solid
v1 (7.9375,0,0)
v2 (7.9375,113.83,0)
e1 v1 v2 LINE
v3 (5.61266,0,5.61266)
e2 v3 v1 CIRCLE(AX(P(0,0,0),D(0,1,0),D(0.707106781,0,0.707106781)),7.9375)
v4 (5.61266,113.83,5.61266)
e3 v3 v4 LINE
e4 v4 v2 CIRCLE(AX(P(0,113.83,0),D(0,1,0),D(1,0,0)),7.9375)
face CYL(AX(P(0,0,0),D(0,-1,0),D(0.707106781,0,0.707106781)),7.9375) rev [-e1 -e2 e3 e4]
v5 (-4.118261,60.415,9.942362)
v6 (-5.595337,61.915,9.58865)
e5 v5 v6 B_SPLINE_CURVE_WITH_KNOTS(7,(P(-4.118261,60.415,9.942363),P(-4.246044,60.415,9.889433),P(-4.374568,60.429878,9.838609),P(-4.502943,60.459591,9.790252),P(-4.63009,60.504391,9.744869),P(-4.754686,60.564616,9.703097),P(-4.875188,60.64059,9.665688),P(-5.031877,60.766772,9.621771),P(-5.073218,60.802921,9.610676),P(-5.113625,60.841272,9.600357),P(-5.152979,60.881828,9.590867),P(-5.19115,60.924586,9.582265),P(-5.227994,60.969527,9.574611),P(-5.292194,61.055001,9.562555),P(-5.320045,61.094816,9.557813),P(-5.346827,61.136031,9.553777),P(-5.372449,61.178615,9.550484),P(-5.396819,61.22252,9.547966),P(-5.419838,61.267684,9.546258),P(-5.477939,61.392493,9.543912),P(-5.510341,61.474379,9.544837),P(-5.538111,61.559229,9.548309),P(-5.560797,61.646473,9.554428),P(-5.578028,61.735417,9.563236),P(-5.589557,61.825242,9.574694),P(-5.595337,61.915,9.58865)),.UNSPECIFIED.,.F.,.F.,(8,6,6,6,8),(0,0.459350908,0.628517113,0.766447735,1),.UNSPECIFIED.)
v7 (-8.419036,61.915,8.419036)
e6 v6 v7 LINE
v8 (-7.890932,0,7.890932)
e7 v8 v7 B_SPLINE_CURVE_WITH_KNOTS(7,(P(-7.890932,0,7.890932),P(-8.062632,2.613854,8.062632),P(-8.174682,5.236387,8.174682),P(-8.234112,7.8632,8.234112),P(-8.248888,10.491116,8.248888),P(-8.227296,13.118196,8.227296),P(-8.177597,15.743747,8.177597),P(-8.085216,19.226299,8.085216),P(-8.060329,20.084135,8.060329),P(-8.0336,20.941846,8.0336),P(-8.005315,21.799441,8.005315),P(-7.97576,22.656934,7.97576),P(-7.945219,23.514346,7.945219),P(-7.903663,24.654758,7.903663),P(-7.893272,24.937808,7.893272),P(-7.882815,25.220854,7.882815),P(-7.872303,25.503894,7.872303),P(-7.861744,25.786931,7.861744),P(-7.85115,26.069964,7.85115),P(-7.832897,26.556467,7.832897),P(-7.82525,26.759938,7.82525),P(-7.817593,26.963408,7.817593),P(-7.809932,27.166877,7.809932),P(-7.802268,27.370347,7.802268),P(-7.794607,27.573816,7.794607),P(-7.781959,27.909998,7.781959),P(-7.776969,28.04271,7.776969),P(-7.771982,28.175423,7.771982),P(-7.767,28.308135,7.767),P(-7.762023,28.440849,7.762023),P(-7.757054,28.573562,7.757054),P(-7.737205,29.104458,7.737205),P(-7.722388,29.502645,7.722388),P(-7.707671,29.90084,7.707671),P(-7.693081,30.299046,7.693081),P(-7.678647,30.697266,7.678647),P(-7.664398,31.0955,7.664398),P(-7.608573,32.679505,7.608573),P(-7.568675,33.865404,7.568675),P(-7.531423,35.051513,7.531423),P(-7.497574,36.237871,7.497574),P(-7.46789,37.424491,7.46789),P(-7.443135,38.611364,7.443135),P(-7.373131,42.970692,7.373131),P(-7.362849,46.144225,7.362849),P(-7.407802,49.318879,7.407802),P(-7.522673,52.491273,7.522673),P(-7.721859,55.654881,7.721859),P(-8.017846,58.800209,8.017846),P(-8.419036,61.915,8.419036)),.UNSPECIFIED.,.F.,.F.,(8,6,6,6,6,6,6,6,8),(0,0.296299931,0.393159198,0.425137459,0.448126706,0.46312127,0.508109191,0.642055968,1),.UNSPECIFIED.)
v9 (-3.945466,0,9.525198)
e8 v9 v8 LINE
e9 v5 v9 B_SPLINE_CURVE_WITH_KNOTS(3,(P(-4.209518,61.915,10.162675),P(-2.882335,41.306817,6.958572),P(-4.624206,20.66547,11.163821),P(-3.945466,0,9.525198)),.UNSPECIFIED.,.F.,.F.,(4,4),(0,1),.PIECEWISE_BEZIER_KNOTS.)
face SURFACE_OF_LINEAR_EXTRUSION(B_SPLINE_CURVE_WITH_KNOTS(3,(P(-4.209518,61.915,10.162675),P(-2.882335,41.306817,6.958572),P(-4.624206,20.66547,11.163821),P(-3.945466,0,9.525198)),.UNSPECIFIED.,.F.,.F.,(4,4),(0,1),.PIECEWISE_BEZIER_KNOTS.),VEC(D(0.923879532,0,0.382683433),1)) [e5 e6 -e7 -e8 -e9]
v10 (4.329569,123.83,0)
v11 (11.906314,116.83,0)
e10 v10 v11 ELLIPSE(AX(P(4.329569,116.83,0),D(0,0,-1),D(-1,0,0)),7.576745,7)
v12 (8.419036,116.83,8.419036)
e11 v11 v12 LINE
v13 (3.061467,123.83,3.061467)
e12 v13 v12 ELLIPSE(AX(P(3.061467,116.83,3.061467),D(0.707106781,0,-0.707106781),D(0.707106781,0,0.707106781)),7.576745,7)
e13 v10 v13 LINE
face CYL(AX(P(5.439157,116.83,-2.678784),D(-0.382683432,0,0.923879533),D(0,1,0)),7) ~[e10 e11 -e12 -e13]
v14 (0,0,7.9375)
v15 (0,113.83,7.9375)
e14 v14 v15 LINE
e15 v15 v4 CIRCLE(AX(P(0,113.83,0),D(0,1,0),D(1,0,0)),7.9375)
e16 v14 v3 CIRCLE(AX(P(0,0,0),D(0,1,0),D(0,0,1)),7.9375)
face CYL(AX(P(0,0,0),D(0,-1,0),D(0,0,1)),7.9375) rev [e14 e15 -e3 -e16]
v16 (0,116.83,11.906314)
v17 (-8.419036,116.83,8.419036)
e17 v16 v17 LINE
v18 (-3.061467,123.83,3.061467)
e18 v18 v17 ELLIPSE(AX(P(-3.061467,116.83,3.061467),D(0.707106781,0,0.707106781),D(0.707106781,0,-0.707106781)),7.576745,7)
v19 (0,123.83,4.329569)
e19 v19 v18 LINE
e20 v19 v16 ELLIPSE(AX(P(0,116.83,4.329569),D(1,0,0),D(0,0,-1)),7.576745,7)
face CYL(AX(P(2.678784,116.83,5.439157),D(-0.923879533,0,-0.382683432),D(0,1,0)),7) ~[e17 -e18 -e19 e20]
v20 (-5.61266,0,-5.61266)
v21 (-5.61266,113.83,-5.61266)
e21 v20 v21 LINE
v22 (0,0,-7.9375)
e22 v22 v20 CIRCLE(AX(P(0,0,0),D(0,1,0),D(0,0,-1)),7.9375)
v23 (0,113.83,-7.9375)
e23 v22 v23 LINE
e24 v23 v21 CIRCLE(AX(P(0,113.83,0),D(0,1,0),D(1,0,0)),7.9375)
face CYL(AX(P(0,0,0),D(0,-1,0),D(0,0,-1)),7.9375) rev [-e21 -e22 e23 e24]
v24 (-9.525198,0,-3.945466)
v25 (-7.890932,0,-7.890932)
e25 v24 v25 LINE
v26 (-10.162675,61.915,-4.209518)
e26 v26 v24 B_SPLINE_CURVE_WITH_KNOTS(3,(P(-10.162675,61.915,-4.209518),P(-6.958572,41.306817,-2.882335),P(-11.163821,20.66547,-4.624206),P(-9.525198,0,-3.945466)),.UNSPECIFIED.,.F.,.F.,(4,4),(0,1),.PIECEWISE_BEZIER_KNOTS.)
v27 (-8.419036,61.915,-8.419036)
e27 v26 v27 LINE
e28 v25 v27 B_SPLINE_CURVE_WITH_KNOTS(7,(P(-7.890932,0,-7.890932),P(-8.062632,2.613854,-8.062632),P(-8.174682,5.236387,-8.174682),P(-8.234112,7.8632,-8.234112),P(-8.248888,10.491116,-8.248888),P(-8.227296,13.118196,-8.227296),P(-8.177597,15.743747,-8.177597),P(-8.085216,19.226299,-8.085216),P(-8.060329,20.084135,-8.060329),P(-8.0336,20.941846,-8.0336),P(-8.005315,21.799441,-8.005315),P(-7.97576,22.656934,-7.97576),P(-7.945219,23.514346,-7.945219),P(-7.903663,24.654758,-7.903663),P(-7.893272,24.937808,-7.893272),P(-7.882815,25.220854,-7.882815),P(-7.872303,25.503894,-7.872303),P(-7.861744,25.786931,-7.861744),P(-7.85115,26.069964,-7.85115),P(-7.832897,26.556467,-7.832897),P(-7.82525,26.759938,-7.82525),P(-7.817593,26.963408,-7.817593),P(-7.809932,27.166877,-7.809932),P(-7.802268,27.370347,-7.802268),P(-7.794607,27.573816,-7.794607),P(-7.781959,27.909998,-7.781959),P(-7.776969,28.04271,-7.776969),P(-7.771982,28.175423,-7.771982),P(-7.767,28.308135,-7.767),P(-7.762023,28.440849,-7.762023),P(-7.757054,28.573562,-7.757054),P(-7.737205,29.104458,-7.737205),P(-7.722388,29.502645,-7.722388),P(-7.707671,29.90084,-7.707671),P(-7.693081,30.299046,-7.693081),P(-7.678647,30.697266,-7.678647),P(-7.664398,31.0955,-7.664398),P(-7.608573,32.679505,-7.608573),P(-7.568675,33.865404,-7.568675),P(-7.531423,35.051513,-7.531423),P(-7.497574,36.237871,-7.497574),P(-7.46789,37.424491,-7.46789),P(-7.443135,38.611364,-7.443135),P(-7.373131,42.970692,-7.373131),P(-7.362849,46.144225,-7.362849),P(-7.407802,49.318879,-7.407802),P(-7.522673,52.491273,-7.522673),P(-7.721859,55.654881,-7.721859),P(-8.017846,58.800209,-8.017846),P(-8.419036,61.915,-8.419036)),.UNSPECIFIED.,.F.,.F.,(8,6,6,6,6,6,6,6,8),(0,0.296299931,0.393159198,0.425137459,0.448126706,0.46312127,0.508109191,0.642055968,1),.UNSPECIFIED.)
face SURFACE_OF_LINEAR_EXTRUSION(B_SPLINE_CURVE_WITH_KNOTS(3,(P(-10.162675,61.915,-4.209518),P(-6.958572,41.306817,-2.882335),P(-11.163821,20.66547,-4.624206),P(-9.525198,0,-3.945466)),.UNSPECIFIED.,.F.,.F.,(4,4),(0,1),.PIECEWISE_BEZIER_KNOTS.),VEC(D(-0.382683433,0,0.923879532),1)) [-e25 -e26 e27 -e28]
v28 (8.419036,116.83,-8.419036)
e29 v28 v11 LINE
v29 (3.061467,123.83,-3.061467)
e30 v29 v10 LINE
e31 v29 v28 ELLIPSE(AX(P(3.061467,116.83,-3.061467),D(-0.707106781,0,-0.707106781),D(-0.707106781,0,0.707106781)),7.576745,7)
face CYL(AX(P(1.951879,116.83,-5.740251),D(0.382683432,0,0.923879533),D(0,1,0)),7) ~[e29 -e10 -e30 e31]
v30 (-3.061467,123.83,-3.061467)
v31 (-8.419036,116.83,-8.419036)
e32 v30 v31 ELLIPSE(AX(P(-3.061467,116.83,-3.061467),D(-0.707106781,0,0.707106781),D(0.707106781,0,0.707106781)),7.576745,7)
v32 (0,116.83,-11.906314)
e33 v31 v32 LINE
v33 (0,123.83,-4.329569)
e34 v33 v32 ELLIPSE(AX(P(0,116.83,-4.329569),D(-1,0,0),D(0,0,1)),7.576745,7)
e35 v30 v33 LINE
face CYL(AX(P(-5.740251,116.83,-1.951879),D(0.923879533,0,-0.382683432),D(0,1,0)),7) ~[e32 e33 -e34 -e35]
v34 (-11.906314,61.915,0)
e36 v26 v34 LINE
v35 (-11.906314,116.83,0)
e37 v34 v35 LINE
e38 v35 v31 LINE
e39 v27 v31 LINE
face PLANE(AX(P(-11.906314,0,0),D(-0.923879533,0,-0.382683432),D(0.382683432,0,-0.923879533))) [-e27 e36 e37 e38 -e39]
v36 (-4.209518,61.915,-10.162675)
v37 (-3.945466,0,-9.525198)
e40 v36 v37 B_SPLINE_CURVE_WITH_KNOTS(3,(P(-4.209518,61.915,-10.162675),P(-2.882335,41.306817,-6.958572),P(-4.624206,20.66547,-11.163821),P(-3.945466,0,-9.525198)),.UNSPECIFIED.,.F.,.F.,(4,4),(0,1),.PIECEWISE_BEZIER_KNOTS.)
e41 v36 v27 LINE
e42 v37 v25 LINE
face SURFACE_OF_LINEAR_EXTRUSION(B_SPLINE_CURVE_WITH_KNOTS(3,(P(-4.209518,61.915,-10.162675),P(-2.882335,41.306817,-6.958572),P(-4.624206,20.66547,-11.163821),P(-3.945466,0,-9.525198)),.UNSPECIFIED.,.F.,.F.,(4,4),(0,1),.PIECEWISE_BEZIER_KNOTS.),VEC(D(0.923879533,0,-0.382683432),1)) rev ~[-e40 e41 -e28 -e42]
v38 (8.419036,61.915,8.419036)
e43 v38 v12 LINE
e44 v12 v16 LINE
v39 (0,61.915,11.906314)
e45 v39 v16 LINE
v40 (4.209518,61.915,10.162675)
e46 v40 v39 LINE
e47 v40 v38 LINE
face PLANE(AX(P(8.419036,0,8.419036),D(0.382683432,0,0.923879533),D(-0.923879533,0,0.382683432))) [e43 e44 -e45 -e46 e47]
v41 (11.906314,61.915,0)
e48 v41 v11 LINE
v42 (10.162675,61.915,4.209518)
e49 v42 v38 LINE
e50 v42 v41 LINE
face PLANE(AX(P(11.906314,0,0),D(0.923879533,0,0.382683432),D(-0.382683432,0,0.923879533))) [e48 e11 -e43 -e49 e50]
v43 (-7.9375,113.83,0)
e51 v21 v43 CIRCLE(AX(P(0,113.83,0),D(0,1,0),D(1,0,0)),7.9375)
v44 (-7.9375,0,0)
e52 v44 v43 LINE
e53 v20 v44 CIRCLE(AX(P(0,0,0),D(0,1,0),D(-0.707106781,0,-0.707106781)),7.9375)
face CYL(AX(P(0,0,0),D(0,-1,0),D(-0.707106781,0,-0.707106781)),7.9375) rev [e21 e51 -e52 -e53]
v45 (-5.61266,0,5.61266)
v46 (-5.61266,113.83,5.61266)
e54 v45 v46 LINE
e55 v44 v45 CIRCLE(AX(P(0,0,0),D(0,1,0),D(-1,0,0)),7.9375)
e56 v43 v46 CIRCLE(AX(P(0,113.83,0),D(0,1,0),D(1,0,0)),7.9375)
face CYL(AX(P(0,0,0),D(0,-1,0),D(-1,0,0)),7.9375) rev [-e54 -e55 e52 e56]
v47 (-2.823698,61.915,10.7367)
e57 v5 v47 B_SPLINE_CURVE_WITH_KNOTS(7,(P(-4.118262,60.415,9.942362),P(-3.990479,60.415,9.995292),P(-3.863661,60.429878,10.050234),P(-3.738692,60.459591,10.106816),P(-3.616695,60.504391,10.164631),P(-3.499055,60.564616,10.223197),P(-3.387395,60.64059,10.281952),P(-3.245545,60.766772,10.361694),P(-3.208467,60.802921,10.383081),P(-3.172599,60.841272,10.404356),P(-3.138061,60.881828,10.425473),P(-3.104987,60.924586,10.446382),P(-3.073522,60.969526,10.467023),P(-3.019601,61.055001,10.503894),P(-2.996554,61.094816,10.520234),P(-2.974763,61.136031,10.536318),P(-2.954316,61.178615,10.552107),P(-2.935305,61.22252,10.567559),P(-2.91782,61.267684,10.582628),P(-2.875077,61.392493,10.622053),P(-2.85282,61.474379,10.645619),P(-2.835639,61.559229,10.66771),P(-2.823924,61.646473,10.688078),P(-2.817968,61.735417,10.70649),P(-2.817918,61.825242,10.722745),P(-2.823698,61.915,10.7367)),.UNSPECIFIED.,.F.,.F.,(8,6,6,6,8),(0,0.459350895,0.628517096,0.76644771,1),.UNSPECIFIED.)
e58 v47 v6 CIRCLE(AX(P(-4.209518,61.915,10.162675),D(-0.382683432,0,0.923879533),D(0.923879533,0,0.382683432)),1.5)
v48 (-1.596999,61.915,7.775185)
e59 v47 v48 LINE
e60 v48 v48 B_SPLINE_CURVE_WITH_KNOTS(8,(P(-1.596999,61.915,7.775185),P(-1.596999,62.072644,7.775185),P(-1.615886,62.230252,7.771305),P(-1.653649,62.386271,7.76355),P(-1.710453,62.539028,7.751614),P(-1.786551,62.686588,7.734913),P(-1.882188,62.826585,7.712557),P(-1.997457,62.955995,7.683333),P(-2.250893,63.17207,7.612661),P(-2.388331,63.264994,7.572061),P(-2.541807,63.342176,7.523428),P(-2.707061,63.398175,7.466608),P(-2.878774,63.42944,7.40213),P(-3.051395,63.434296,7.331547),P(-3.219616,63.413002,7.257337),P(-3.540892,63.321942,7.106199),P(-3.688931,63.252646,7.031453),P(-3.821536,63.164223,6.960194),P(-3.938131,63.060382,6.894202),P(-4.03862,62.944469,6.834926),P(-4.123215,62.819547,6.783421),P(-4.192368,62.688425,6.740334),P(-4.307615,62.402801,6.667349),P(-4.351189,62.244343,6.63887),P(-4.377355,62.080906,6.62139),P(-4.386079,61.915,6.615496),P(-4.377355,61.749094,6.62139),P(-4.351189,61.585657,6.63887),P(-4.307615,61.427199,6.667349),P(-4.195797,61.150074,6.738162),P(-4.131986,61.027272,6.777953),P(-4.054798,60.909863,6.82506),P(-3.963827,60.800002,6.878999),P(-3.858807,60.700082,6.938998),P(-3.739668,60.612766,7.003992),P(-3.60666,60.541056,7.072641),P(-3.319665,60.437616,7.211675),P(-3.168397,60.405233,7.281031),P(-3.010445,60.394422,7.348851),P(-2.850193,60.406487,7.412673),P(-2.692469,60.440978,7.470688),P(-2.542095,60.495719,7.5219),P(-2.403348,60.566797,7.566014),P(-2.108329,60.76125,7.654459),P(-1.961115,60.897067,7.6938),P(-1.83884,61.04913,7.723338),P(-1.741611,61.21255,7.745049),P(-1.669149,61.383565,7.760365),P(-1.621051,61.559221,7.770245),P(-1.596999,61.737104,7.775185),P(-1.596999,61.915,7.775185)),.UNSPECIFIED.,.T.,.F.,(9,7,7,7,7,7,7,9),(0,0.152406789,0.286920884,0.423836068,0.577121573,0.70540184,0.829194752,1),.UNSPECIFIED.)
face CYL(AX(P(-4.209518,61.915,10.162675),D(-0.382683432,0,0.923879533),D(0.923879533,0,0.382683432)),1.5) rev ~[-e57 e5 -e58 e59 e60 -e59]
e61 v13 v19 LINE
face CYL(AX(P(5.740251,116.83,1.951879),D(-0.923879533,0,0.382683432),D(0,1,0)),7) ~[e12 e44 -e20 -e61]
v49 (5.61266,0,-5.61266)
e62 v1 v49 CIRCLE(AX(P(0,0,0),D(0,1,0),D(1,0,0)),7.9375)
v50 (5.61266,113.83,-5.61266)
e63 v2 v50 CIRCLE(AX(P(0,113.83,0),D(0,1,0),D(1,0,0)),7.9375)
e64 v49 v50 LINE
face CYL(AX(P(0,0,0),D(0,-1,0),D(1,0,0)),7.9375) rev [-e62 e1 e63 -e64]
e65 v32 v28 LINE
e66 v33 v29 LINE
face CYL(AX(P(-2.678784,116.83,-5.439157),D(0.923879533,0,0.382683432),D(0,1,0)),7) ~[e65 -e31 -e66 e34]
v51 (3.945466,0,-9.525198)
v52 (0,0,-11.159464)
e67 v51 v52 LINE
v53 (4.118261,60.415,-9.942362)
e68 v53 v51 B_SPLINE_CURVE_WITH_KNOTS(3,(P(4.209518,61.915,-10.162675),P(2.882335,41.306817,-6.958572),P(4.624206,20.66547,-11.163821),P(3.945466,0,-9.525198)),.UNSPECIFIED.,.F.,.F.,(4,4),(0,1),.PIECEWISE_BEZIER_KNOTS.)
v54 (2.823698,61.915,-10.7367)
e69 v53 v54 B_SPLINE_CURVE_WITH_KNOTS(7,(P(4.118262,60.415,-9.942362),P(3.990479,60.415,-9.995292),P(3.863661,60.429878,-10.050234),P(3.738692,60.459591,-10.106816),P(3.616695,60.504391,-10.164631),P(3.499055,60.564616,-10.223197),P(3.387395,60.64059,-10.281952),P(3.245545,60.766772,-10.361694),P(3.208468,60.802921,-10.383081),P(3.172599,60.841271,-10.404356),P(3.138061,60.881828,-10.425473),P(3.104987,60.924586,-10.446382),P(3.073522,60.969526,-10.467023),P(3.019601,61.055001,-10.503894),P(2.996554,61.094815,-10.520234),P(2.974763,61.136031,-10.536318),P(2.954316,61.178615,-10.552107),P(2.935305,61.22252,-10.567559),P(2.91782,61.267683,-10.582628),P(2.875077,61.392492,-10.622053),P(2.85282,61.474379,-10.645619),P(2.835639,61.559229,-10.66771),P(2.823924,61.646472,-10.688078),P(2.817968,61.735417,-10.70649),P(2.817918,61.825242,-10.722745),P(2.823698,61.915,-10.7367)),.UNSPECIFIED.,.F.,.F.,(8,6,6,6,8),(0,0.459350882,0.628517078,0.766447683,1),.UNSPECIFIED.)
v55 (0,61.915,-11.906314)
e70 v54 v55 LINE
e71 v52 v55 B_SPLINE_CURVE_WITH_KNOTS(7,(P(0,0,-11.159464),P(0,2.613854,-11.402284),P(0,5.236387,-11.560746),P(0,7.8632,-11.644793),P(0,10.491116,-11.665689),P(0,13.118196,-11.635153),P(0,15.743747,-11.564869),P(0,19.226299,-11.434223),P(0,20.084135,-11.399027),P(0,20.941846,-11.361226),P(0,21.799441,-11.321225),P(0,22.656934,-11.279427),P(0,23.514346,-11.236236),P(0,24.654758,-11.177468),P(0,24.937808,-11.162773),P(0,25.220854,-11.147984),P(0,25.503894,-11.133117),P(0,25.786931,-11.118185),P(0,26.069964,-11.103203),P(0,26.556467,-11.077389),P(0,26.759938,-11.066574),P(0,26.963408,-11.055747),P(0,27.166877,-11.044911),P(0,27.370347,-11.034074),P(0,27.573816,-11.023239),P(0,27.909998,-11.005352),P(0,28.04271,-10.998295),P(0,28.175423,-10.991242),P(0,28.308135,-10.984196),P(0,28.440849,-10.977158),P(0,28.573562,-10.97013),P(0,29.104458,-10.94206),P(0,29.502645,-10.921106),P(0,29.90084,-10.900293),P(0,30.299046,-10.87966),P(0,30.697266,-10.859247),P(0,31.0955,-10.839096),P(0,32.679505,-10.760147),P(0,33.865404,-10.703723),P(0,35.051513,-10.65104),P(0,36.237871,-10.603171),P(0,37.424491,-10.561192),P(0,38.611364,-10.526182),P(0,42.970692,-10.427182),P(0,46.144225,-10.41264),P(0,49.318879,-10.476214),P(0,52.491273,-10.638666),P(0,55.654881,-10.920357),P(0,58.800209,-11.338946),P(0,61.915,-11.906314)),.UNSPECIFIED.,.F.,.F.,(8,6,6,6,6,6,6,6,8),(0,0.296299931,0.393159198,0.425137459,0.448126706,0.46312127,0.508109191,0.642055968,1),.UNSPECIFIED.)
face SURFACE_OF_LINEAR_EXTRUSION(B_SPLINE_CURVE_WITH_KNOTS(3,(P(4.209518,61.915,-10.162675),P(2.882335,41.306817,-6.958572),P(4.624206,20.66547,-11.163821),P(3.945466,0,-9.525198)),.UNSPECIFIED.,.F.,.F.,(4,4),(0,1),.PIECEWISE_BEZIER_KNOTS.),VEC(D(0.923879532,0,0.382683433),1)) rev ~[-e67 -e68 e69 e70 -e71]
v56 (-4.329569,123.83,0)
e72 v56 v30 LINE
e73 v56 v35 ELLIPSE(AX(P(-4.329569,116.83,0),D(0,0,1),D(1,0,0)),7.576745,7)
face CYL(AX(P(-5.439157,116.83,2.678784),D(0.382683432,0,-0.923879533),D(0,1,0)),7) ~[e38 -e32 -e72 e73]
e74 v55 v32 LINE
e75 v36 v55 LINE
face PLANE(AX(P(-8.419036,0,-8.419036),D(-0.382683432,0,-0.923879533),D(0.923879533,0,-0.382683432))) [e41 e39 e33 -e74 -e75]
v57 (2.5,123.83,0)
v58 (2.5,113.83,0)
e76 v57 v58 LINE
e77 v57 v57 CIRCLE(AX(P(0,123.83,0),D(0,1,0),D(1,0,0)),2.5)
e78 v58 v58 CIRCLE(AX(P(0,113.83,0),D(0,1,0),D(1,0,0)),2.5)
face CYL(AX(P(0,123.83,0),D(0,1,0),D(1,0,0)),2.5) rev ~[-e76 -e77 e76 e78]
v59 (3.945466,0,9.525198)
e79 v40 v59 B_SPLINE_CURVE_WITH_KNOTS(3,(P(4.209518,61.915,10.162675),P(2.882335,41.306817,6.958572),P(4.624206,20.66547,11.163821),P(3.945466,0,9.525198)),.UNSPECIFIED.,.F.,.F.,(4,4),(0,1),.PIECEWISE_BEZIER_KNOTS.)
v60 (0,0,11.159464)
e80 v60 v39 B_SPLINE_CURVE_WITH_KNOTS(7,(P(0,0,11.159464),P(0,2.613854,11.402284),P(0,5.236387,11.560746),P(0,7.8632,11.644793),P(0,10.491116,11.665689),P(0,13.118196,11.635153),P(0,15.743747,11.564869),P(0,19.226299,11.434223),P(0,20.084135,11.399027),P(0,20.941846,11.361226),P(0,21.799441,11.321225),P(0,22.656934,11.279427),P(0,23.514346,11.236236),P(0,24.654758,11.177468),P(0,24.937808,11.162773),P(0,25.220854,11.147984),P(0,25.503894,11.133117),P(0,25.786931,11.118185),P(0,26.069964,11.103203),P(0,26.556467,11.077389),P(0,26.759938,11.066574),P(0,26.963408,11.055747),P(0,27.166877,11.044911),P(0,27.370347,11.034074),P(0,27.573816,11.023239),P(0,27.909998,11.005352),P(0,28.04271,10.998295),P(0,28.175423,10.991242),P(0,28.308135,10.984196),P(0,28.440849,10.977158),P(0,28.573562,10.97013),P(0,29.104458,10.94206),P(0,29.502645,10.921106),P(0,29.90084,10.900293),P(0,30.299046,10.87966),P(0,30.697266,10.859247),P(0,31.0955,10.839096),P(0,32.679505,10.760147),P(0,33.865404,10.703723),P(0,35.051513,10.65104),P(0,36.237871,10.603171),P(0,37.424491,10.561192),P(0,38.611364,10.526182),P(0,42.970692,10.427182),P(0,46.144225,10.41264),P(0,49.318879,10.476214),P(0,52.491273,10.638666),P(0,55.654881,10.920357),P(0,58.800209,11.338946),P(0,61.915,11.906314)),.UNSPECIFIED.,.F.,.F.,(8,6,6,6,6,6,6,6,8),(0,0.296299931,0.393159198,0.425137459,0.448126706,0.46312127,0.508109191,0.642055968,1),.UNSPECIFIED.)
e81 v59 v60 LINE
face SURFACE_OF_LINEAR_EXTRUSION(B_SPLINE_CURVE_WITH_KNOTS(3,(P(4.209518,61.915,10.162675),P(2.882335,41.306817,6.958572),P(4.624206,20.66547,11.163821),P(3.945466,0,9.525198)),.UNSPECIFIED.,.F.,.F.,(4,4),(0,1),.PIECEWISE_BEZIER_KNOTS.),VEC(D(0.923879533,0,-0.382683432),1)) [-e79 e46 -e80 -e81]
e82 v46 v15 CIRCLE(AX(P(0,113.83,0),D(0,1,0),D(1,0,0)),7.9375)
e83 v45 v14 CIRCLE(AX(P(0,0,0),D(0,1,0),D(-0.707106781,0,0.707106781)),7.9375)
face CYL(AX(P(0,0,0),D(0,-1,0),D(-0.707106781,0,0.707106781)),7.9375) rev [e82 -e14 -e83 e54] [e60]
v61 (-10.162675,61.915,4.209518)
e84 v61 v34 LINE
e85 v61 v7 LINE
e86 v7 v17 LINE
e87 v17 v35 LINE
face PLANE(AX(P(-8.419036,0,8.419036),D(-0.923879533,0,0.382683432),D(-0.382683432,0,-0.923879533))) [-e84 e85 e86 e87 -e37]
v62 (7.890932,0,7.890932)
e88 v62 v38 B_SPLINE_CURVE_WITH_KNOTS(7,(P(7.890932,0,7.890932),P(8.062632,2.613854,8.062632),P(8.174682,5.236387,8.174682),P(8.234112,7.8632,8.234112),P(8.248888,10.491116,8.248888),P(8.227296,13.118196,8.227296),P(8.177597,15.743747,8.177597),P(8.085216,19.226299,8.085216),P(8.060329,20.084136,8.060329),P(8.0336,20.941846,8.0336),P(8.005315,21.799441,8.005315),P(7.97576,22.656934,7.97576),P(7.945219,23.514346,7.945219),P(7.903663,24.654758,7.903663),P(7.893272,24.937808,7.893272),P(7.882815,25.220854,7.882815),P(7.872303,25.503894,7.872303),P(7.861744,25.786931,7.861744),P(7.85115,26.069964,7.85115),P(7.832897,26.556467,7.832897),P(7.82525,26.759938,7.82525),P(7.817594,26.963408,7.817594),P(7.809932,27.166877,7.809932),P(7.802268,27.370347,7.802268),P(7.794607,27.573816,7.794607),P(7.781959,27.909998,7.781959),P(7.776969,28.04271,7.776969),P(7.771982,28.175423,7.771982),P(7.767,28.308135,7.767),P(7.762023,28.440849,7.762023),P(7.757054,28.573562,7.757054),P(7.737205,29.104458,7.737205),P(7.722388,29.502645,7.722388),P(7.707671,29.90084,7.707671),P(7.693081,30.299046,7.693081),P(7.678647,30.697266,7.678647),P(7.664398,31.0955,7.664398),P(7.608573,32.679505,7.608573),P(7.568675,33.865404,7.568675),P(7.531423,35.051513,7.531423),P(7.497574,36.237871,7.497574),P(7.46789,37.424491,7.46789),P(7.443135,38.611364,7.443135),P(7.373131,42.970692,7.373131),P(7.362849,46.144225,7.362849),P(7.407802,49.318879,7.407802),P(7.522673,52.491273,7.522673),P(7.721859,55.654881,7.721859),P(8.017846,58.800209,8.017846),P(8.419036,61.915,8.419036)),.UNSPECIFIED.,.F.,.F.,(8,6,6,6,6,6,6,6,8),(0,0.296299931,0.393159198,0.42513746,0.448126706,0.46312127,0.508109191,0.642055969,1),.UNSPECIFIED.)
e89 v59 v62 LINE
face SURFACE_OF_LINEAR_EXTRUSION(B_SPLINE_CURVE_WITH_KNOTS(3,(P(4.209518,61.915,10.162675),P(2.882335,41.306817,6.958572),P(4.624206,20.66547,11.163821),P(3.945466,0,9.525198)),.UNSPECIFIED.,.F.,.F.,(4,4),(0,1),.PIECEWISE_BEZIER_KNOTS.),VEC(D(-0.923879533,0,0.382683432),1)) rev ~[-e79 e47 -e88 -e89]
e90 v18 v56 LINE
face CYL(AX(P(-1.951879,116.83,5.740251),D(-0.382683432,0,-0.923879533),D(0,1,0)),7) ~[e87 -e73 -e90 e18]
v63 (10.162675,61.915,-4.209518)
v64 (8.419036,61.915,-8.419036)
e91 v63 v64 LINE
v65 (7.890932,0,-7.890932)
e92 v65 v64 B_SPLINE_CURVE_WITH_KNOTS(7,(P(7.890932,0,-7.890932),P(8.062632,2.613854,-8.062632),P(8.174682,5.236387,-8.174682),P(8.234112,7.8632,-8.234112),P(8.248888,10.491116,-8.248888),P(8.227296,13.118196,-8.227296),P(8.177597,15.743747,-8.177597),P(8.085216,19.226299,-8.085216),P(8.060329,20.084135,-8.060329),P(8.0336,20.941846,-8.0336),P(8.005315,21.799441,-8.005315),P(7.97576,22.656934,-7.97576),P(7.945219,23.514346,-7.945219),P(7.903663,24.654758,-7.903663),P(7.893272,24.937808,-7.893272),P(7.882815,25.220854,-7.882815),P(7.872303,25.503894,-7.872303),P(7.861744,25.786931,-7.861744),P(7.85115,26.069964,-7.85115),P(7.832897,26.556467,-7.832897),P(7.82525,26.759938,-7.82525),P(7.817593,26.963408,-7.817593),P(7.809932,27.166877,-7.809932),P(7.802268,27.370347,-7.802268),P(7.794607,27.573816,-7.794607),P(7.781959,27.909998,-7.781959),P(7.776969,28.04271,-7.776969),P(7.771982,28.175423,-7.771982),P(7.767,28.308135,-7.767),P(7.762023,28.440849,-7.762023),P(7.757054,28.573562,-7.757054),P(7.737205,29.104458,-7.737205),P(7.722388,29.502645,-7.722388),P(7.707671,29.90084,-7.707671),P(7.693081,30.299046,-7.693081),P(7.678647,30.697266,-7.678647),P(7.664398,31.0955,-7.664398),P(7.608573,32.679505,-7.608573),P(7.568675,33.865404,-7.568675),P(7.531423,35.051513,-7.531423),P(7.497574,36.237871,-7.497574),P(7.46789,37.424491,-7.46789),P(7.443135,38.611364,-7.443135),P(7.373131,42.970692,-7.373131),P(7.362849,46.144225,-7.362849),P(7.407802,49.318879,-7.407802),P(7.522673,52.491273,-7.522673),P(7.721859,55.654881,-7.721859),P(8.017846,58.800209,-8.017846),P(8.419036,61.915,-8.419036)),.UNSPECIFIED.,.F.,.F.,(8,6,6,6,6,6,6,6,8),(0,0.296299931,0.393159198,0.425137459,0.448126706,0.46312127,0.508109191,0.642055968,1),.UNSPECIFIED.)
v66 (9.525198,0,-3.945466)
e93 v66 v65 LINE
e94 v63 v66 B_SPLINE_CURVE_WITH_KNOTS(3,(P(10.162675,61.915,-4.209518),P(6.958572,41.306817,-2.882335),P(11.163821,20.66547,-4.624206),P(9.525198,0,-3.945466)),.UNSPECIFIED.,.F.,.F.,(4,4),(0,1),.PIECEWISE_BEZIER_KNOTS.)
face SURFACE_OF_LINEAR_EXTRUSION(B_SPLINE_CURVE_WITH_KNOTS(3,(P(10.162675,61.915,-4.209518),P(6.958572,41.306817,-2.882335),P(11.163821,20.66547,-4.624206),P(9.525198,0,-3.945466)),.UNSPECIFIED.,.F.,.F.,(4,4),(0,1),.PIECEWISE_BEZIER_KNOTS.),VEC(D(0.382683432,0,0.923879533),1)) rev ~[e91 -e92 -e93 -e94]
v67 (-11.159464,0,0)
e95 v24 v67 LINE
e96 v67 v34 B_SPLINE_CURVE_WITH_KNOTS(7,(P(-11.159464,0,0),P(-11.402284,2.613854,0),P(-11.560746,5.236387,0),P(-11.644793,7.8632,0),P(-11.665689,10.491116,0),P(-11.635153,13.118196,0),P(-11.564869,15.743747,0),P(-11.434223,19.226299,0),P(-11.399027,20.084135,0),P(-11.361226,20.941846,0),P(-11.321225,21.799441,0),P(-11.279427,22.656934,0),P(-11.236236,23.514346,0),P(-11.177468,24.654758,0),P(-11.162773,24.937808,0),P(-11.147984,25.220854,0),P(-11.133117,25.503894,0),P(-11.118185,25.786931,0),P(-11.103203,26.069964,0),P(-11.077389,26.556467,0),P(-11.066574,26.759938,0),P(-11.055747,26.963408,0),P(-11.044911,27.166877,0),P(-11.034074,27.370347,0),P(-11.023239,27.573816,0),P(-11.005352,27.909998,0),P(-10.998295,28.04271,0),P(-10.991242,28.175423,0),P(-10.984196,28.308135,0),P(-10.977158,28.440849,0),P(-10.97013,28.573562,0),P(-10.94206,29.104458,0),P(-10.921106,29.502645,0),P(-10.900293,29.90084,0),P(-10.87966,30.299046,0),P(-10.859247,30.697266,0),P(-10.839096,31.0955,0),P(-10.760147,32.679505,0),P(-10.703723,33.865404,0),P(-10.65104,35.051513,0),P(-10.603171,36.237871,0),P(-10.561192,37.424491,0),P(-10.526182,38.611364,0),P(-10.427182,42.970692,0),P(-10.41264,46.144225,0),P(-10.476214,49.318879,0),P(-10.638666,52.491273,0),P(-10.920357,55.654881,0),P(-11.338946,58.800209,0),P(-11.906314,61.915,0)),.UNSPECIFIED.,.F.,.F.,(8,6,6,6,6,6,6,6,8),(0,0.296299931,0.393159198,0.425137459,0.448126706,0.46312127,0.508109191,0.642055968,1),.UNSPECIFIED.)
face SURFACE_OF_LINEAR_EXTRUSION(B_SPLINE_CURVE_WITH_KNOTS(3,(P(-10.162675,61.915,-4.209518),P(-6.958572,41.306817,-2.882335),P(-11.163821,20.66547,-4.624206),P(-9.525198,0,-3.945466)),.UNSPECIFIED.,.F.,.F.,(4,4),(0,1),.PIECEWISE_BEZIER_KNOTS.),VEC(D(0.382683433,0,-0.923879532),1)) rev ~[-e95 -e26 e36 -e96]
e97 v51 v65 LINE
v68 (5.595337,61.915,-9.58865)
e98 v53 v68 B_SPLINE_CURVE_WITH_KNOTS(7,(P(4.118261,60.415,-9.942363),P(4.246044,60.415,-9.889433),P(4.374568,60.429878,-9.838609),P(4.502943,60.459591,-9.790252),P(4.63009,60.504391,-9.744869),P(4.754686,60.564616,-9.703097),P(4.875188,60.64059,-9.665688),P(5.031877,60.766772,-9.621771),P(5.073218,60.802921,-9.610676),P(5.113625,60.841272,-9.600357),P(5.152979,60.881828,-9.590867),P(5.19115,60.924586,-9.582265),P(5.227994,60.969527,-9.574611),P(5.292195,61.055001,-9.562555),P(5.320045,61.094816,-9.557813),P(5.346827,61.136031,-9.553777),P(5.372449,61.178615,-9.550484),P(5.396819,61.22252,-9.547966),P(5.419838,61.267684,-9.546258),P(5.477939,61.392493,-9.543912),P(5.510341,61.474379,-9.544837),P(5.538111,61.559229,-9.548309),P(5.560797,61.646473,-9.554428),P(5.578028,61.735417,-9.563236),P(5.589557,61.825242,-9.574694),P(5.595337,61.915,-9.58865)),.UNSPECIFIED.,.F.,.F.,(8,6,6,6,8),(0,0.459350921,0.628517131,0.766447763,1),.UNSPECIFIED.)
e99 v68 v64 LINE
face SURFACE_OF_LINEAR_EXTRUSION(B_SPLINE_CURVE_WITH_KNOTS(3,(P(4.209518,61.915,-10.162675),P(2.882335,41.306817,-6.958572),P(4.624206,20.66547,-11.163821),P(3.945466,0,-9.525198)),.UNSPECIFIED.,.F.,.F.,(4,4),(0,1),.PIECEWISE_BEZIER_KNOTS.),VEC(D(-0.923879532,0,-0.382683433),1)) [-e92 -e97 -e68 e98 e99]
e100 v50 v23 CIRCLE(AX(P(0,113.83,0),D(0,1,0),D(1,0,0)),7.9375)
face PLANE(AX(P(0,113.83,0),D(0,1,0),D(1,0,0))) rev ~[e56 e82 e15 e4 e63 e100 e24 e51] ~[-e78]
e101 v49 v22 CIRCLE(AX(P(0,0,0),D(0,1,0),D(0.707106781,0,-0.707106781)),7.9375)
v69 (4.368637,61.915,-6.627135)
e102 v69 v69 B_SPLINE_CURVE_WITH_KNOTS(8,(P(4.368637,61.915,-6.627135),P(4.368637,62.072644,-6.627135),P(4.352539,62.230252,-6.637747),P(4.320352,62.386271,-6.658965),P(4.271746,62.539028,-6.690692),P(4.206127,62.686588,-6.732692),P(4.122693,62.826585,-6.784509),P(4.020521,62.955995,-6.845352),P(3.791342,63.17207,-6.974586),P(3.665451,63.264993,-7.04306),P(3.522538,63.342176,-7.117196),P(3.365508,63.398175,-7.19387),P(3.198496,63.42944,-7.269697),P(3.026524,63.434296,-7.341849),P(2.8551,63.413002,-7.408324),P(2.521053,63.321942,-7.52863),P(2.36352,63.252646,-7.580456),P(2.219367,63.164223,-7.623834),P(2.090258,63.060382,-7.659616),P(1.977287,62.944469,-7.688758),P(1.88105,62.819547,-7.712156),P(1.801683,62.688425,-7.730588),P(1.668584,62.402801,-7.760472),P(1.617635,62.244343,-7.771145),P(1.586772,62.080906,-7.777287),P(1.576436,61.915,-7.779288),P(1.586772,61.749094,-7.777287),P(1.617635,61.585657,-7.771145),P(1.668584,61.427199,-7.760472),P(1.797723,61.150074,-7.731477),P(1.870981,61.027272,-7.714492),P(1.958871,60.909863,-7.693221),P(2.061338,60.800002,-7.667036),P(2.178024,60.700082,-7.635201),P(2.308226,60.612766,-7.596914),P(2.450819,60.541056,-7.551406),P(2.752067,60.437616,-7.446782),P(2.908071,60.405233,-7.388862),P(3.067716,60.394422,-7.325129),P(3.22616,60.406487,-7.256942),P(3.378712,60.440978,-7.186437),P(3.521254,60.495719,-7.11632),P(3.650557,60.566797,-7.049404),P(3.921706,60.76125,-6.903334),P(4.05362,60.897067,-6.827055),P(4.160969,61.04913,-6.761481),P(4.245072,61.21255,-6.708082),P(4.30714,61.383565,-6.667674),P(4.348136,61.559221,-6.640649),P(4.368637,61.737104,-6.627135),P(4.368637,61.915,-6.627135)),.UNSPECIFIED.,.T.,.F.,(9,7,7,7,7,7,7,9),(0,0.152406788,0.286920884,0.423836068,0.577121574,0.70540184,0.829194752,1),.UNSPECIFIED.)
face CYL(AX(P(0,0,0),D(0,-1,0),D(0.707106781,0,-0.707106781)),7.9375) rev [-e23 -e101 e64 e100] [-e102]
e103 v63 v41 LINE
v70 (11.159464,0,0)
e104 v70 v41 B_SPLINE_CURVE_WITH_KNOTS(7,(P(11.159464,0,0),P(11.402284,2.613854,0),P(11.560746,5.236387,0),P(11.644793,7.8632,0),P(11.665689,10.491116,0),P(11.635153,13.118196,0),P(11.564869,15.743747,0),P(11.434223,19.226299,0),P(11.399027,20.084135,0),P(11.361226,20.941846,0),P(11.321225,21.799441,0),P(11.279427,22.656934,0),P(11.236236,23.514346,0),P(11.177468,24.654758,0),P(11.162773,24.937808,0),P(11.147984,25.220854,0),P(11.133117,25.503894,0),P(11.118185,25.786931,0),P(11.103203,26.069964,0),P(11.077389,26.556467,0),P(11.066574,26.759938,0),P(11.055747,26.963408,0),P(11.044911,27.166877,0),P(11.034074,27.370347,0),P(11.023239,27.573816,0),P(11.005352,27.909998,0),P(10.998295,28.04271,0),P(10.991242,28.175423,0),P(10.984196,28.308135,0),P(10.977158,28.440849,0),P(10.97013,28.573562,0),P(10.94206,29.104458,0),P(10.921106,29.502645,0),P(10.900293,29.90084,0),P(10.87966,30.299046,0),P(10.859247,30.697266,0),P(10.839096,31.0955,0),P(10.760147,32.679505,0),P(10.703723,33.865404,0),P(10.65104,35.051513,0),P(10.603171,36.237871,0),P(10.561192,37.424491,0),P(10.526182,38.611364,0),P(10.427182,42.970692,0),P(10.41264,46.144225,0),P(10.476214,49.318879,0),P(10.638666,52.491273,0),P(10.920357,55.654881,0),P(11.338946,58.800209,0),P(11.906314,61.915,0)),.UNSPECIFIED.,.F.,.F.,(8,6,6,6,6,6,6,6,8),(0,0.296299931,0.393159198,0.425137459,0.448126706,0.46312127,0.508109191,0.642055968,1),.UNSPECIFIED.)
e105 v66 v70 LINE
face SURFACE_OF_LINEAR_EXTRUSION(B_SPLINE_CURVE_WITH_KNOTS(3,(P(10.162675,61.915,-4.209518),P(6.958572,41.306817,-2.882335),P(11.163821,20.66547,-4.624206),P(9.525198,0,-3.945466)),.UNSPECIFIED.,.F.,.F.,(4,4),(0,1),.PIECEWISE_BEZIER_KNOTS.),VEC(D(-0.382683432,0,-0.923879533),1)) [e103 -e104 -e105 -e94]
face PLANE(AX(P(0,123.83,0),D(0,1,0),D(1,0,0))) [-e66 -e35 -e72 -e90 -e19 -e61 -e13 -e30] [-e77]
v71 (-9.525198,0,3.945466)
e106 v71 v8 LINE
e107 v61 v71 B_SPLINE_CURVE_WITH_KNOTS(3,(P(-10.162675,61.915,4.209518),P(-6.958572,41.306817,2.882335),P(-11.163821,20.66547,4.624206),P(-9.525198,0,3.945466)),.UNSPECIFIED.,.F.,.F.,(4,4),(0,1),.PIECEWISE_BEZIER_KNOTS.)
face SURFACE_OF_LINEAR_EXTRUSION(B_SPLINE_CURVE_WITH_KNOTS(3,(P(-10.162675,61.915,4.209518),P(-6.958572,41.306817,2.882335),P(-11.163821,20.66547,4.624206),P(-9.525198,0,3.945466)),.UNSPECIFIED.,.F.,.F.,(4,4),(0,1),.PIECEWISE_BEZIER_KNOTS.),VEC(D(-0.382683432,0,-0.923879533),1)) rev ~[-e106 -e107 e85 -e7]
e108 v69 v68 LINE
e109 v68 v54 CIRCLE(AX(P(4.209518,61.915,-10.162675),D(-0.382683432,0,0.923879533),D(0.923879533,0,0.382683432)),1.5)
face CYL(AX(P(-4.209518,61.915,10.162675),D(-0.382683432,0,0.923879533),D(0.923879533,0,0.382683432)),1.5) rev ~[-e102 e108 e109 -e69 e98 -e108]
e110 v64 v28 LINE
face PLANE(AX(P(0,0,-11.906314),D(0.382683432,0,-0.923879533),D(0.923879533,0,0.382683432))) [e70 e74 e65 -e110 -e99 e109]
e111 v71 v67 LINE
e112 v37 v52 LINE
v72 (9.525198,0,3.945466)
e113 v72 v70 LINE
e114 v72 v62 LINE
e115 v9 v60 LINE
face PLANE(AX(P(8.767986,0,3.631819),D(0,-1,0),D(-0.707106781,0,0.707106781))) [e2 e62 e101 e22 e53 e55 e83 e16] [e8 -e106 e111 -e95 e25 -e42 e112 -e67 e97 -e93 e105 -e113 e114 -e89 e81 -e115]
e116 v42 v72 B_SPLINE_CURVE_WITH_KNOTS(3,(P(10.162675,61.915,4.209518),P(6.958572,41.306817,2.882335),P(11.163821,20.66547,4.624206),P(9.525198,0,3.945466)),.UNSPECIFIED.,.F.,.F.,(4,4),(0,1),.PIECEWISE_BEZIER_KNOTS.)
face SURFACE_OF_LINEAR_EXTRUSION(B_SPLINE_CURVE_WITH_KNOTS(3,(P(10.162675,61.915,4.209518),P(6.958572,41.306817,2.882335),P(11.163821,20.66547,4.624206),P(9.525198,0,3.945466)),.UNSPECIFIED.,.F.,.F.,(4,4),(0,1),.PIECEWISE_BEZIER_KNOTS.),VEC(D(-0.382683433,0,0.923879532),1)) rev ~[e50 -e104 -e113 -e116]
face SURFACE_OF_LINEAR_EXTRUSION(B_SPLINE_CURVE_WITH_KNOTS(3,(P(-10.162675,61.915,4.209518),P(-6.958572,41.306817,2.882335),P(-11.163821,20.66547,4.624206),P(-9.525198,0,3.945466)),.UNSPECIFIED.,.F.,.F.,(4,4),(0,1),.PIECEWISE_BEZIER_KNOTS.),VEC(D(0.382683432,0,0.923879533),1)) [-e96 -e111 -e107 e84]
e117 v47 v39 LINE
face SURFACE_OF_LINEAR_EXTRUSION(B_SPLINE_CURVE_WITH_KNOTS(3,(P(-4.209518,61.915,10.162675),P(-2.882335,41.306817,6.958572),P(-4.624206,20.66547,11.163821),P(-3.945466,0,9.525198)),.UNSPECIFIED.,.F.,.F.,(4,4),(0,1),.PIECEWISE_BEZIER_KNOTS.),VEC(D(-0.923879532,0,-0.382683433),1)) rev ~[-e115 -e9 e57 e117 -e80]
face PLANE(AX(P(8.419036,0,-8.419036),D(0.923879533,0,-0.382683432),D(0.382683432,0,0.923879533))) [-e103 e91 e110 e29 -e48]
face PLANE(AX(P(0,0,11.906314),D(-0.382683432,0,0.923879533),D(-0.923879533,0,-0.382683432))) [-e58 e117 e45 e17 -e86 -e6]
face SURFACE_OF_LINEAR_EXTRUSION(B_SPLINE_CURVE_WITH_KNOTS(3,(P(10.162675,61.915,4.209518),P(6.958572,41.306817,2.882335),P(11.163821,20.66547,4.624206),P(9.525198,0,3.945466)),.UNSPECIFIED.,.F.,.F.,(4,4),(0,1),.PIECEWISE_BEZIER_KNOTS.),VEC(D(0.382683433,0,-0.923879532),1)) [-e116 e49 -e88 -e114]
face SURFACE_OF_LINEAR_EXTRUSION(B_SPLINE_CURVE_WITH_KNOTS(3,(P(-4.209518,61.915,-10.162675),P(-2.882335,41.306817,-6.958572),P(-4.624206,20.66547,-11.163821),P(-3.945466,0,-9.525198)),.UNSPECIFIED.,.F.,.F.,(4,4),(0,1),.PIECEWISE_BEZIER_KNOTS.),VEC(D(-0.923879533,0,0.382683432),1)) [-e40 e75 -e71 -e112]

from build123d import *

# Parameters (mm, degrees)
EXTRUDE_1_DEPTH          = 123.83
CUT_EXTRUDE_1_DEPTH      = 10
PATTERN_CIRCULAR_4_COUNT = 8
SKETCH_5_R               = 7.9375
SKETCH_5_R_2             = 2.5
EXTRUDE_2_DEPTH          = 10
FILLET_1_R               = 7
SKETCH_7_R               = 1.5
CUT_EXTRUDE_3_DEPTH      = 40


with BuildPart() as part:
    # Sketch 1 → Extrude 1 (new body)
    with BuildSketch(Plane(origin=(0, 0, 0), x_dir=(1, 0, 0), z_dir=(0, 1, 0))):
        with BuildLine():
            Line((0, -11.906314203), (0, -7.9375))
            ThreePointArc((0, -7.9375), (3.037549744, -7.333293789), (5.612660076, -5.612660076))
            Line((5.612660076, -5.612660076), (8.419035512, -8.419035512))
            Line((8.419035512, -8.419035512), (0, -11.906314203))
        make_face()
    extrude_1 = extrude(amount=EXTRUDE_1_DEPTH)

    # Sketch 4 → Cut-Extrude 1 (cut, symmetric)
    with BuildSketch(Plane(origin=(0, 0, 0), x_dir=(0, 1, 0), z_dir=(0.923879533, 0, -0.382683432))):
        with BuildLine():
            Line((0, 13.154938161), (61.915, 13.154938161))
            Line((61.915, 13.154938161), (61.915, 11))
            add(Edge.make_bspline(
                [(61.915, 11), (41.306817411, 7.531903846), (20.665469899, 12.083633252), (0, 10.31)],
                knots=[0, 0, 0, 0, 1, 1, 1, 1], degree=3))
            Line((0, 10.31), (0, 13.154938161))
        make_face()
    cut_extrude_1 = extrude(amount=CUT_EXTRUDE_1_DEPTH, both=True, mode=Mode.SUBTRACT)

    # Pattern Circular 4: Extrude 1, Cut-Extrude 1 ×8 about axis
    pattern_circular_4_axis = Axis((0, 0, 0), (0, -1, 0))
    for i in range(1, PATTERN_CIRCULAR_4_COUNT):
        add(extrude_1.rotate(pattern_circular_4_axis, i * 360 / PATTERN_CIRCULAR_4_COUNT))
        add(cut_extrude_1.rotate(pattern_circular_4_axis, i * 360 / PATTERN_CIRCULAR_4_COUNT), mode=Mode.SUBTRACT)

    # Sketch 5 → Extrude 2 (add)
    with BuildSketch(Plane(origin=(0, 123.83, 0), x_dir=(1, 0, 0), z_dir=(0, 1, 0))):
        Circle(SKETCH_5_R)
        Circle(SKETCH_5_R_2, mode=Mode.SUBTRACT)
    extrude(amount=-EXTRUDE_2_DEPTH)

    # Fillet 1
    fillet_1_edges = [part.edges().sort_by_distance(p)[0] for p in [
        (10.162674858, 123.83, 4.209517756),
        (10.162674858, 123.83, -4.209517756),
        (4.209517756, 123.83, -10.162674858),
        (-4.209517756, 123.83, -10.162674858),
        (-10.162674858, 123.83, -4.209517756),
        (-10.162674858, 123.83, 4.209517756),
        (-4.209517756, 123.83, 10.162674858),
        (4.209517756, 123.83, 10.162674858),
    ]]
    fillet(fillet_1_edges, radius=FILLET_1_R)

    # Sketch 7 → Cut-Extrude 3 (cut)
    with BuildSketch(Plane(origin=(-4.209517756, 0, 10.162674858), x_dir=(0.923879533, 0, 0.382683432), z_dir=(-0.382683432, 0, 0.923879533))):
        with Locations((0, 61.915)):
            Circle(SKETCH_7_R)
    extrude(amount=-CUT_EXTRUDE_3_DEPTH, mode=Mode.SUBTRACT)


solid = part.part
